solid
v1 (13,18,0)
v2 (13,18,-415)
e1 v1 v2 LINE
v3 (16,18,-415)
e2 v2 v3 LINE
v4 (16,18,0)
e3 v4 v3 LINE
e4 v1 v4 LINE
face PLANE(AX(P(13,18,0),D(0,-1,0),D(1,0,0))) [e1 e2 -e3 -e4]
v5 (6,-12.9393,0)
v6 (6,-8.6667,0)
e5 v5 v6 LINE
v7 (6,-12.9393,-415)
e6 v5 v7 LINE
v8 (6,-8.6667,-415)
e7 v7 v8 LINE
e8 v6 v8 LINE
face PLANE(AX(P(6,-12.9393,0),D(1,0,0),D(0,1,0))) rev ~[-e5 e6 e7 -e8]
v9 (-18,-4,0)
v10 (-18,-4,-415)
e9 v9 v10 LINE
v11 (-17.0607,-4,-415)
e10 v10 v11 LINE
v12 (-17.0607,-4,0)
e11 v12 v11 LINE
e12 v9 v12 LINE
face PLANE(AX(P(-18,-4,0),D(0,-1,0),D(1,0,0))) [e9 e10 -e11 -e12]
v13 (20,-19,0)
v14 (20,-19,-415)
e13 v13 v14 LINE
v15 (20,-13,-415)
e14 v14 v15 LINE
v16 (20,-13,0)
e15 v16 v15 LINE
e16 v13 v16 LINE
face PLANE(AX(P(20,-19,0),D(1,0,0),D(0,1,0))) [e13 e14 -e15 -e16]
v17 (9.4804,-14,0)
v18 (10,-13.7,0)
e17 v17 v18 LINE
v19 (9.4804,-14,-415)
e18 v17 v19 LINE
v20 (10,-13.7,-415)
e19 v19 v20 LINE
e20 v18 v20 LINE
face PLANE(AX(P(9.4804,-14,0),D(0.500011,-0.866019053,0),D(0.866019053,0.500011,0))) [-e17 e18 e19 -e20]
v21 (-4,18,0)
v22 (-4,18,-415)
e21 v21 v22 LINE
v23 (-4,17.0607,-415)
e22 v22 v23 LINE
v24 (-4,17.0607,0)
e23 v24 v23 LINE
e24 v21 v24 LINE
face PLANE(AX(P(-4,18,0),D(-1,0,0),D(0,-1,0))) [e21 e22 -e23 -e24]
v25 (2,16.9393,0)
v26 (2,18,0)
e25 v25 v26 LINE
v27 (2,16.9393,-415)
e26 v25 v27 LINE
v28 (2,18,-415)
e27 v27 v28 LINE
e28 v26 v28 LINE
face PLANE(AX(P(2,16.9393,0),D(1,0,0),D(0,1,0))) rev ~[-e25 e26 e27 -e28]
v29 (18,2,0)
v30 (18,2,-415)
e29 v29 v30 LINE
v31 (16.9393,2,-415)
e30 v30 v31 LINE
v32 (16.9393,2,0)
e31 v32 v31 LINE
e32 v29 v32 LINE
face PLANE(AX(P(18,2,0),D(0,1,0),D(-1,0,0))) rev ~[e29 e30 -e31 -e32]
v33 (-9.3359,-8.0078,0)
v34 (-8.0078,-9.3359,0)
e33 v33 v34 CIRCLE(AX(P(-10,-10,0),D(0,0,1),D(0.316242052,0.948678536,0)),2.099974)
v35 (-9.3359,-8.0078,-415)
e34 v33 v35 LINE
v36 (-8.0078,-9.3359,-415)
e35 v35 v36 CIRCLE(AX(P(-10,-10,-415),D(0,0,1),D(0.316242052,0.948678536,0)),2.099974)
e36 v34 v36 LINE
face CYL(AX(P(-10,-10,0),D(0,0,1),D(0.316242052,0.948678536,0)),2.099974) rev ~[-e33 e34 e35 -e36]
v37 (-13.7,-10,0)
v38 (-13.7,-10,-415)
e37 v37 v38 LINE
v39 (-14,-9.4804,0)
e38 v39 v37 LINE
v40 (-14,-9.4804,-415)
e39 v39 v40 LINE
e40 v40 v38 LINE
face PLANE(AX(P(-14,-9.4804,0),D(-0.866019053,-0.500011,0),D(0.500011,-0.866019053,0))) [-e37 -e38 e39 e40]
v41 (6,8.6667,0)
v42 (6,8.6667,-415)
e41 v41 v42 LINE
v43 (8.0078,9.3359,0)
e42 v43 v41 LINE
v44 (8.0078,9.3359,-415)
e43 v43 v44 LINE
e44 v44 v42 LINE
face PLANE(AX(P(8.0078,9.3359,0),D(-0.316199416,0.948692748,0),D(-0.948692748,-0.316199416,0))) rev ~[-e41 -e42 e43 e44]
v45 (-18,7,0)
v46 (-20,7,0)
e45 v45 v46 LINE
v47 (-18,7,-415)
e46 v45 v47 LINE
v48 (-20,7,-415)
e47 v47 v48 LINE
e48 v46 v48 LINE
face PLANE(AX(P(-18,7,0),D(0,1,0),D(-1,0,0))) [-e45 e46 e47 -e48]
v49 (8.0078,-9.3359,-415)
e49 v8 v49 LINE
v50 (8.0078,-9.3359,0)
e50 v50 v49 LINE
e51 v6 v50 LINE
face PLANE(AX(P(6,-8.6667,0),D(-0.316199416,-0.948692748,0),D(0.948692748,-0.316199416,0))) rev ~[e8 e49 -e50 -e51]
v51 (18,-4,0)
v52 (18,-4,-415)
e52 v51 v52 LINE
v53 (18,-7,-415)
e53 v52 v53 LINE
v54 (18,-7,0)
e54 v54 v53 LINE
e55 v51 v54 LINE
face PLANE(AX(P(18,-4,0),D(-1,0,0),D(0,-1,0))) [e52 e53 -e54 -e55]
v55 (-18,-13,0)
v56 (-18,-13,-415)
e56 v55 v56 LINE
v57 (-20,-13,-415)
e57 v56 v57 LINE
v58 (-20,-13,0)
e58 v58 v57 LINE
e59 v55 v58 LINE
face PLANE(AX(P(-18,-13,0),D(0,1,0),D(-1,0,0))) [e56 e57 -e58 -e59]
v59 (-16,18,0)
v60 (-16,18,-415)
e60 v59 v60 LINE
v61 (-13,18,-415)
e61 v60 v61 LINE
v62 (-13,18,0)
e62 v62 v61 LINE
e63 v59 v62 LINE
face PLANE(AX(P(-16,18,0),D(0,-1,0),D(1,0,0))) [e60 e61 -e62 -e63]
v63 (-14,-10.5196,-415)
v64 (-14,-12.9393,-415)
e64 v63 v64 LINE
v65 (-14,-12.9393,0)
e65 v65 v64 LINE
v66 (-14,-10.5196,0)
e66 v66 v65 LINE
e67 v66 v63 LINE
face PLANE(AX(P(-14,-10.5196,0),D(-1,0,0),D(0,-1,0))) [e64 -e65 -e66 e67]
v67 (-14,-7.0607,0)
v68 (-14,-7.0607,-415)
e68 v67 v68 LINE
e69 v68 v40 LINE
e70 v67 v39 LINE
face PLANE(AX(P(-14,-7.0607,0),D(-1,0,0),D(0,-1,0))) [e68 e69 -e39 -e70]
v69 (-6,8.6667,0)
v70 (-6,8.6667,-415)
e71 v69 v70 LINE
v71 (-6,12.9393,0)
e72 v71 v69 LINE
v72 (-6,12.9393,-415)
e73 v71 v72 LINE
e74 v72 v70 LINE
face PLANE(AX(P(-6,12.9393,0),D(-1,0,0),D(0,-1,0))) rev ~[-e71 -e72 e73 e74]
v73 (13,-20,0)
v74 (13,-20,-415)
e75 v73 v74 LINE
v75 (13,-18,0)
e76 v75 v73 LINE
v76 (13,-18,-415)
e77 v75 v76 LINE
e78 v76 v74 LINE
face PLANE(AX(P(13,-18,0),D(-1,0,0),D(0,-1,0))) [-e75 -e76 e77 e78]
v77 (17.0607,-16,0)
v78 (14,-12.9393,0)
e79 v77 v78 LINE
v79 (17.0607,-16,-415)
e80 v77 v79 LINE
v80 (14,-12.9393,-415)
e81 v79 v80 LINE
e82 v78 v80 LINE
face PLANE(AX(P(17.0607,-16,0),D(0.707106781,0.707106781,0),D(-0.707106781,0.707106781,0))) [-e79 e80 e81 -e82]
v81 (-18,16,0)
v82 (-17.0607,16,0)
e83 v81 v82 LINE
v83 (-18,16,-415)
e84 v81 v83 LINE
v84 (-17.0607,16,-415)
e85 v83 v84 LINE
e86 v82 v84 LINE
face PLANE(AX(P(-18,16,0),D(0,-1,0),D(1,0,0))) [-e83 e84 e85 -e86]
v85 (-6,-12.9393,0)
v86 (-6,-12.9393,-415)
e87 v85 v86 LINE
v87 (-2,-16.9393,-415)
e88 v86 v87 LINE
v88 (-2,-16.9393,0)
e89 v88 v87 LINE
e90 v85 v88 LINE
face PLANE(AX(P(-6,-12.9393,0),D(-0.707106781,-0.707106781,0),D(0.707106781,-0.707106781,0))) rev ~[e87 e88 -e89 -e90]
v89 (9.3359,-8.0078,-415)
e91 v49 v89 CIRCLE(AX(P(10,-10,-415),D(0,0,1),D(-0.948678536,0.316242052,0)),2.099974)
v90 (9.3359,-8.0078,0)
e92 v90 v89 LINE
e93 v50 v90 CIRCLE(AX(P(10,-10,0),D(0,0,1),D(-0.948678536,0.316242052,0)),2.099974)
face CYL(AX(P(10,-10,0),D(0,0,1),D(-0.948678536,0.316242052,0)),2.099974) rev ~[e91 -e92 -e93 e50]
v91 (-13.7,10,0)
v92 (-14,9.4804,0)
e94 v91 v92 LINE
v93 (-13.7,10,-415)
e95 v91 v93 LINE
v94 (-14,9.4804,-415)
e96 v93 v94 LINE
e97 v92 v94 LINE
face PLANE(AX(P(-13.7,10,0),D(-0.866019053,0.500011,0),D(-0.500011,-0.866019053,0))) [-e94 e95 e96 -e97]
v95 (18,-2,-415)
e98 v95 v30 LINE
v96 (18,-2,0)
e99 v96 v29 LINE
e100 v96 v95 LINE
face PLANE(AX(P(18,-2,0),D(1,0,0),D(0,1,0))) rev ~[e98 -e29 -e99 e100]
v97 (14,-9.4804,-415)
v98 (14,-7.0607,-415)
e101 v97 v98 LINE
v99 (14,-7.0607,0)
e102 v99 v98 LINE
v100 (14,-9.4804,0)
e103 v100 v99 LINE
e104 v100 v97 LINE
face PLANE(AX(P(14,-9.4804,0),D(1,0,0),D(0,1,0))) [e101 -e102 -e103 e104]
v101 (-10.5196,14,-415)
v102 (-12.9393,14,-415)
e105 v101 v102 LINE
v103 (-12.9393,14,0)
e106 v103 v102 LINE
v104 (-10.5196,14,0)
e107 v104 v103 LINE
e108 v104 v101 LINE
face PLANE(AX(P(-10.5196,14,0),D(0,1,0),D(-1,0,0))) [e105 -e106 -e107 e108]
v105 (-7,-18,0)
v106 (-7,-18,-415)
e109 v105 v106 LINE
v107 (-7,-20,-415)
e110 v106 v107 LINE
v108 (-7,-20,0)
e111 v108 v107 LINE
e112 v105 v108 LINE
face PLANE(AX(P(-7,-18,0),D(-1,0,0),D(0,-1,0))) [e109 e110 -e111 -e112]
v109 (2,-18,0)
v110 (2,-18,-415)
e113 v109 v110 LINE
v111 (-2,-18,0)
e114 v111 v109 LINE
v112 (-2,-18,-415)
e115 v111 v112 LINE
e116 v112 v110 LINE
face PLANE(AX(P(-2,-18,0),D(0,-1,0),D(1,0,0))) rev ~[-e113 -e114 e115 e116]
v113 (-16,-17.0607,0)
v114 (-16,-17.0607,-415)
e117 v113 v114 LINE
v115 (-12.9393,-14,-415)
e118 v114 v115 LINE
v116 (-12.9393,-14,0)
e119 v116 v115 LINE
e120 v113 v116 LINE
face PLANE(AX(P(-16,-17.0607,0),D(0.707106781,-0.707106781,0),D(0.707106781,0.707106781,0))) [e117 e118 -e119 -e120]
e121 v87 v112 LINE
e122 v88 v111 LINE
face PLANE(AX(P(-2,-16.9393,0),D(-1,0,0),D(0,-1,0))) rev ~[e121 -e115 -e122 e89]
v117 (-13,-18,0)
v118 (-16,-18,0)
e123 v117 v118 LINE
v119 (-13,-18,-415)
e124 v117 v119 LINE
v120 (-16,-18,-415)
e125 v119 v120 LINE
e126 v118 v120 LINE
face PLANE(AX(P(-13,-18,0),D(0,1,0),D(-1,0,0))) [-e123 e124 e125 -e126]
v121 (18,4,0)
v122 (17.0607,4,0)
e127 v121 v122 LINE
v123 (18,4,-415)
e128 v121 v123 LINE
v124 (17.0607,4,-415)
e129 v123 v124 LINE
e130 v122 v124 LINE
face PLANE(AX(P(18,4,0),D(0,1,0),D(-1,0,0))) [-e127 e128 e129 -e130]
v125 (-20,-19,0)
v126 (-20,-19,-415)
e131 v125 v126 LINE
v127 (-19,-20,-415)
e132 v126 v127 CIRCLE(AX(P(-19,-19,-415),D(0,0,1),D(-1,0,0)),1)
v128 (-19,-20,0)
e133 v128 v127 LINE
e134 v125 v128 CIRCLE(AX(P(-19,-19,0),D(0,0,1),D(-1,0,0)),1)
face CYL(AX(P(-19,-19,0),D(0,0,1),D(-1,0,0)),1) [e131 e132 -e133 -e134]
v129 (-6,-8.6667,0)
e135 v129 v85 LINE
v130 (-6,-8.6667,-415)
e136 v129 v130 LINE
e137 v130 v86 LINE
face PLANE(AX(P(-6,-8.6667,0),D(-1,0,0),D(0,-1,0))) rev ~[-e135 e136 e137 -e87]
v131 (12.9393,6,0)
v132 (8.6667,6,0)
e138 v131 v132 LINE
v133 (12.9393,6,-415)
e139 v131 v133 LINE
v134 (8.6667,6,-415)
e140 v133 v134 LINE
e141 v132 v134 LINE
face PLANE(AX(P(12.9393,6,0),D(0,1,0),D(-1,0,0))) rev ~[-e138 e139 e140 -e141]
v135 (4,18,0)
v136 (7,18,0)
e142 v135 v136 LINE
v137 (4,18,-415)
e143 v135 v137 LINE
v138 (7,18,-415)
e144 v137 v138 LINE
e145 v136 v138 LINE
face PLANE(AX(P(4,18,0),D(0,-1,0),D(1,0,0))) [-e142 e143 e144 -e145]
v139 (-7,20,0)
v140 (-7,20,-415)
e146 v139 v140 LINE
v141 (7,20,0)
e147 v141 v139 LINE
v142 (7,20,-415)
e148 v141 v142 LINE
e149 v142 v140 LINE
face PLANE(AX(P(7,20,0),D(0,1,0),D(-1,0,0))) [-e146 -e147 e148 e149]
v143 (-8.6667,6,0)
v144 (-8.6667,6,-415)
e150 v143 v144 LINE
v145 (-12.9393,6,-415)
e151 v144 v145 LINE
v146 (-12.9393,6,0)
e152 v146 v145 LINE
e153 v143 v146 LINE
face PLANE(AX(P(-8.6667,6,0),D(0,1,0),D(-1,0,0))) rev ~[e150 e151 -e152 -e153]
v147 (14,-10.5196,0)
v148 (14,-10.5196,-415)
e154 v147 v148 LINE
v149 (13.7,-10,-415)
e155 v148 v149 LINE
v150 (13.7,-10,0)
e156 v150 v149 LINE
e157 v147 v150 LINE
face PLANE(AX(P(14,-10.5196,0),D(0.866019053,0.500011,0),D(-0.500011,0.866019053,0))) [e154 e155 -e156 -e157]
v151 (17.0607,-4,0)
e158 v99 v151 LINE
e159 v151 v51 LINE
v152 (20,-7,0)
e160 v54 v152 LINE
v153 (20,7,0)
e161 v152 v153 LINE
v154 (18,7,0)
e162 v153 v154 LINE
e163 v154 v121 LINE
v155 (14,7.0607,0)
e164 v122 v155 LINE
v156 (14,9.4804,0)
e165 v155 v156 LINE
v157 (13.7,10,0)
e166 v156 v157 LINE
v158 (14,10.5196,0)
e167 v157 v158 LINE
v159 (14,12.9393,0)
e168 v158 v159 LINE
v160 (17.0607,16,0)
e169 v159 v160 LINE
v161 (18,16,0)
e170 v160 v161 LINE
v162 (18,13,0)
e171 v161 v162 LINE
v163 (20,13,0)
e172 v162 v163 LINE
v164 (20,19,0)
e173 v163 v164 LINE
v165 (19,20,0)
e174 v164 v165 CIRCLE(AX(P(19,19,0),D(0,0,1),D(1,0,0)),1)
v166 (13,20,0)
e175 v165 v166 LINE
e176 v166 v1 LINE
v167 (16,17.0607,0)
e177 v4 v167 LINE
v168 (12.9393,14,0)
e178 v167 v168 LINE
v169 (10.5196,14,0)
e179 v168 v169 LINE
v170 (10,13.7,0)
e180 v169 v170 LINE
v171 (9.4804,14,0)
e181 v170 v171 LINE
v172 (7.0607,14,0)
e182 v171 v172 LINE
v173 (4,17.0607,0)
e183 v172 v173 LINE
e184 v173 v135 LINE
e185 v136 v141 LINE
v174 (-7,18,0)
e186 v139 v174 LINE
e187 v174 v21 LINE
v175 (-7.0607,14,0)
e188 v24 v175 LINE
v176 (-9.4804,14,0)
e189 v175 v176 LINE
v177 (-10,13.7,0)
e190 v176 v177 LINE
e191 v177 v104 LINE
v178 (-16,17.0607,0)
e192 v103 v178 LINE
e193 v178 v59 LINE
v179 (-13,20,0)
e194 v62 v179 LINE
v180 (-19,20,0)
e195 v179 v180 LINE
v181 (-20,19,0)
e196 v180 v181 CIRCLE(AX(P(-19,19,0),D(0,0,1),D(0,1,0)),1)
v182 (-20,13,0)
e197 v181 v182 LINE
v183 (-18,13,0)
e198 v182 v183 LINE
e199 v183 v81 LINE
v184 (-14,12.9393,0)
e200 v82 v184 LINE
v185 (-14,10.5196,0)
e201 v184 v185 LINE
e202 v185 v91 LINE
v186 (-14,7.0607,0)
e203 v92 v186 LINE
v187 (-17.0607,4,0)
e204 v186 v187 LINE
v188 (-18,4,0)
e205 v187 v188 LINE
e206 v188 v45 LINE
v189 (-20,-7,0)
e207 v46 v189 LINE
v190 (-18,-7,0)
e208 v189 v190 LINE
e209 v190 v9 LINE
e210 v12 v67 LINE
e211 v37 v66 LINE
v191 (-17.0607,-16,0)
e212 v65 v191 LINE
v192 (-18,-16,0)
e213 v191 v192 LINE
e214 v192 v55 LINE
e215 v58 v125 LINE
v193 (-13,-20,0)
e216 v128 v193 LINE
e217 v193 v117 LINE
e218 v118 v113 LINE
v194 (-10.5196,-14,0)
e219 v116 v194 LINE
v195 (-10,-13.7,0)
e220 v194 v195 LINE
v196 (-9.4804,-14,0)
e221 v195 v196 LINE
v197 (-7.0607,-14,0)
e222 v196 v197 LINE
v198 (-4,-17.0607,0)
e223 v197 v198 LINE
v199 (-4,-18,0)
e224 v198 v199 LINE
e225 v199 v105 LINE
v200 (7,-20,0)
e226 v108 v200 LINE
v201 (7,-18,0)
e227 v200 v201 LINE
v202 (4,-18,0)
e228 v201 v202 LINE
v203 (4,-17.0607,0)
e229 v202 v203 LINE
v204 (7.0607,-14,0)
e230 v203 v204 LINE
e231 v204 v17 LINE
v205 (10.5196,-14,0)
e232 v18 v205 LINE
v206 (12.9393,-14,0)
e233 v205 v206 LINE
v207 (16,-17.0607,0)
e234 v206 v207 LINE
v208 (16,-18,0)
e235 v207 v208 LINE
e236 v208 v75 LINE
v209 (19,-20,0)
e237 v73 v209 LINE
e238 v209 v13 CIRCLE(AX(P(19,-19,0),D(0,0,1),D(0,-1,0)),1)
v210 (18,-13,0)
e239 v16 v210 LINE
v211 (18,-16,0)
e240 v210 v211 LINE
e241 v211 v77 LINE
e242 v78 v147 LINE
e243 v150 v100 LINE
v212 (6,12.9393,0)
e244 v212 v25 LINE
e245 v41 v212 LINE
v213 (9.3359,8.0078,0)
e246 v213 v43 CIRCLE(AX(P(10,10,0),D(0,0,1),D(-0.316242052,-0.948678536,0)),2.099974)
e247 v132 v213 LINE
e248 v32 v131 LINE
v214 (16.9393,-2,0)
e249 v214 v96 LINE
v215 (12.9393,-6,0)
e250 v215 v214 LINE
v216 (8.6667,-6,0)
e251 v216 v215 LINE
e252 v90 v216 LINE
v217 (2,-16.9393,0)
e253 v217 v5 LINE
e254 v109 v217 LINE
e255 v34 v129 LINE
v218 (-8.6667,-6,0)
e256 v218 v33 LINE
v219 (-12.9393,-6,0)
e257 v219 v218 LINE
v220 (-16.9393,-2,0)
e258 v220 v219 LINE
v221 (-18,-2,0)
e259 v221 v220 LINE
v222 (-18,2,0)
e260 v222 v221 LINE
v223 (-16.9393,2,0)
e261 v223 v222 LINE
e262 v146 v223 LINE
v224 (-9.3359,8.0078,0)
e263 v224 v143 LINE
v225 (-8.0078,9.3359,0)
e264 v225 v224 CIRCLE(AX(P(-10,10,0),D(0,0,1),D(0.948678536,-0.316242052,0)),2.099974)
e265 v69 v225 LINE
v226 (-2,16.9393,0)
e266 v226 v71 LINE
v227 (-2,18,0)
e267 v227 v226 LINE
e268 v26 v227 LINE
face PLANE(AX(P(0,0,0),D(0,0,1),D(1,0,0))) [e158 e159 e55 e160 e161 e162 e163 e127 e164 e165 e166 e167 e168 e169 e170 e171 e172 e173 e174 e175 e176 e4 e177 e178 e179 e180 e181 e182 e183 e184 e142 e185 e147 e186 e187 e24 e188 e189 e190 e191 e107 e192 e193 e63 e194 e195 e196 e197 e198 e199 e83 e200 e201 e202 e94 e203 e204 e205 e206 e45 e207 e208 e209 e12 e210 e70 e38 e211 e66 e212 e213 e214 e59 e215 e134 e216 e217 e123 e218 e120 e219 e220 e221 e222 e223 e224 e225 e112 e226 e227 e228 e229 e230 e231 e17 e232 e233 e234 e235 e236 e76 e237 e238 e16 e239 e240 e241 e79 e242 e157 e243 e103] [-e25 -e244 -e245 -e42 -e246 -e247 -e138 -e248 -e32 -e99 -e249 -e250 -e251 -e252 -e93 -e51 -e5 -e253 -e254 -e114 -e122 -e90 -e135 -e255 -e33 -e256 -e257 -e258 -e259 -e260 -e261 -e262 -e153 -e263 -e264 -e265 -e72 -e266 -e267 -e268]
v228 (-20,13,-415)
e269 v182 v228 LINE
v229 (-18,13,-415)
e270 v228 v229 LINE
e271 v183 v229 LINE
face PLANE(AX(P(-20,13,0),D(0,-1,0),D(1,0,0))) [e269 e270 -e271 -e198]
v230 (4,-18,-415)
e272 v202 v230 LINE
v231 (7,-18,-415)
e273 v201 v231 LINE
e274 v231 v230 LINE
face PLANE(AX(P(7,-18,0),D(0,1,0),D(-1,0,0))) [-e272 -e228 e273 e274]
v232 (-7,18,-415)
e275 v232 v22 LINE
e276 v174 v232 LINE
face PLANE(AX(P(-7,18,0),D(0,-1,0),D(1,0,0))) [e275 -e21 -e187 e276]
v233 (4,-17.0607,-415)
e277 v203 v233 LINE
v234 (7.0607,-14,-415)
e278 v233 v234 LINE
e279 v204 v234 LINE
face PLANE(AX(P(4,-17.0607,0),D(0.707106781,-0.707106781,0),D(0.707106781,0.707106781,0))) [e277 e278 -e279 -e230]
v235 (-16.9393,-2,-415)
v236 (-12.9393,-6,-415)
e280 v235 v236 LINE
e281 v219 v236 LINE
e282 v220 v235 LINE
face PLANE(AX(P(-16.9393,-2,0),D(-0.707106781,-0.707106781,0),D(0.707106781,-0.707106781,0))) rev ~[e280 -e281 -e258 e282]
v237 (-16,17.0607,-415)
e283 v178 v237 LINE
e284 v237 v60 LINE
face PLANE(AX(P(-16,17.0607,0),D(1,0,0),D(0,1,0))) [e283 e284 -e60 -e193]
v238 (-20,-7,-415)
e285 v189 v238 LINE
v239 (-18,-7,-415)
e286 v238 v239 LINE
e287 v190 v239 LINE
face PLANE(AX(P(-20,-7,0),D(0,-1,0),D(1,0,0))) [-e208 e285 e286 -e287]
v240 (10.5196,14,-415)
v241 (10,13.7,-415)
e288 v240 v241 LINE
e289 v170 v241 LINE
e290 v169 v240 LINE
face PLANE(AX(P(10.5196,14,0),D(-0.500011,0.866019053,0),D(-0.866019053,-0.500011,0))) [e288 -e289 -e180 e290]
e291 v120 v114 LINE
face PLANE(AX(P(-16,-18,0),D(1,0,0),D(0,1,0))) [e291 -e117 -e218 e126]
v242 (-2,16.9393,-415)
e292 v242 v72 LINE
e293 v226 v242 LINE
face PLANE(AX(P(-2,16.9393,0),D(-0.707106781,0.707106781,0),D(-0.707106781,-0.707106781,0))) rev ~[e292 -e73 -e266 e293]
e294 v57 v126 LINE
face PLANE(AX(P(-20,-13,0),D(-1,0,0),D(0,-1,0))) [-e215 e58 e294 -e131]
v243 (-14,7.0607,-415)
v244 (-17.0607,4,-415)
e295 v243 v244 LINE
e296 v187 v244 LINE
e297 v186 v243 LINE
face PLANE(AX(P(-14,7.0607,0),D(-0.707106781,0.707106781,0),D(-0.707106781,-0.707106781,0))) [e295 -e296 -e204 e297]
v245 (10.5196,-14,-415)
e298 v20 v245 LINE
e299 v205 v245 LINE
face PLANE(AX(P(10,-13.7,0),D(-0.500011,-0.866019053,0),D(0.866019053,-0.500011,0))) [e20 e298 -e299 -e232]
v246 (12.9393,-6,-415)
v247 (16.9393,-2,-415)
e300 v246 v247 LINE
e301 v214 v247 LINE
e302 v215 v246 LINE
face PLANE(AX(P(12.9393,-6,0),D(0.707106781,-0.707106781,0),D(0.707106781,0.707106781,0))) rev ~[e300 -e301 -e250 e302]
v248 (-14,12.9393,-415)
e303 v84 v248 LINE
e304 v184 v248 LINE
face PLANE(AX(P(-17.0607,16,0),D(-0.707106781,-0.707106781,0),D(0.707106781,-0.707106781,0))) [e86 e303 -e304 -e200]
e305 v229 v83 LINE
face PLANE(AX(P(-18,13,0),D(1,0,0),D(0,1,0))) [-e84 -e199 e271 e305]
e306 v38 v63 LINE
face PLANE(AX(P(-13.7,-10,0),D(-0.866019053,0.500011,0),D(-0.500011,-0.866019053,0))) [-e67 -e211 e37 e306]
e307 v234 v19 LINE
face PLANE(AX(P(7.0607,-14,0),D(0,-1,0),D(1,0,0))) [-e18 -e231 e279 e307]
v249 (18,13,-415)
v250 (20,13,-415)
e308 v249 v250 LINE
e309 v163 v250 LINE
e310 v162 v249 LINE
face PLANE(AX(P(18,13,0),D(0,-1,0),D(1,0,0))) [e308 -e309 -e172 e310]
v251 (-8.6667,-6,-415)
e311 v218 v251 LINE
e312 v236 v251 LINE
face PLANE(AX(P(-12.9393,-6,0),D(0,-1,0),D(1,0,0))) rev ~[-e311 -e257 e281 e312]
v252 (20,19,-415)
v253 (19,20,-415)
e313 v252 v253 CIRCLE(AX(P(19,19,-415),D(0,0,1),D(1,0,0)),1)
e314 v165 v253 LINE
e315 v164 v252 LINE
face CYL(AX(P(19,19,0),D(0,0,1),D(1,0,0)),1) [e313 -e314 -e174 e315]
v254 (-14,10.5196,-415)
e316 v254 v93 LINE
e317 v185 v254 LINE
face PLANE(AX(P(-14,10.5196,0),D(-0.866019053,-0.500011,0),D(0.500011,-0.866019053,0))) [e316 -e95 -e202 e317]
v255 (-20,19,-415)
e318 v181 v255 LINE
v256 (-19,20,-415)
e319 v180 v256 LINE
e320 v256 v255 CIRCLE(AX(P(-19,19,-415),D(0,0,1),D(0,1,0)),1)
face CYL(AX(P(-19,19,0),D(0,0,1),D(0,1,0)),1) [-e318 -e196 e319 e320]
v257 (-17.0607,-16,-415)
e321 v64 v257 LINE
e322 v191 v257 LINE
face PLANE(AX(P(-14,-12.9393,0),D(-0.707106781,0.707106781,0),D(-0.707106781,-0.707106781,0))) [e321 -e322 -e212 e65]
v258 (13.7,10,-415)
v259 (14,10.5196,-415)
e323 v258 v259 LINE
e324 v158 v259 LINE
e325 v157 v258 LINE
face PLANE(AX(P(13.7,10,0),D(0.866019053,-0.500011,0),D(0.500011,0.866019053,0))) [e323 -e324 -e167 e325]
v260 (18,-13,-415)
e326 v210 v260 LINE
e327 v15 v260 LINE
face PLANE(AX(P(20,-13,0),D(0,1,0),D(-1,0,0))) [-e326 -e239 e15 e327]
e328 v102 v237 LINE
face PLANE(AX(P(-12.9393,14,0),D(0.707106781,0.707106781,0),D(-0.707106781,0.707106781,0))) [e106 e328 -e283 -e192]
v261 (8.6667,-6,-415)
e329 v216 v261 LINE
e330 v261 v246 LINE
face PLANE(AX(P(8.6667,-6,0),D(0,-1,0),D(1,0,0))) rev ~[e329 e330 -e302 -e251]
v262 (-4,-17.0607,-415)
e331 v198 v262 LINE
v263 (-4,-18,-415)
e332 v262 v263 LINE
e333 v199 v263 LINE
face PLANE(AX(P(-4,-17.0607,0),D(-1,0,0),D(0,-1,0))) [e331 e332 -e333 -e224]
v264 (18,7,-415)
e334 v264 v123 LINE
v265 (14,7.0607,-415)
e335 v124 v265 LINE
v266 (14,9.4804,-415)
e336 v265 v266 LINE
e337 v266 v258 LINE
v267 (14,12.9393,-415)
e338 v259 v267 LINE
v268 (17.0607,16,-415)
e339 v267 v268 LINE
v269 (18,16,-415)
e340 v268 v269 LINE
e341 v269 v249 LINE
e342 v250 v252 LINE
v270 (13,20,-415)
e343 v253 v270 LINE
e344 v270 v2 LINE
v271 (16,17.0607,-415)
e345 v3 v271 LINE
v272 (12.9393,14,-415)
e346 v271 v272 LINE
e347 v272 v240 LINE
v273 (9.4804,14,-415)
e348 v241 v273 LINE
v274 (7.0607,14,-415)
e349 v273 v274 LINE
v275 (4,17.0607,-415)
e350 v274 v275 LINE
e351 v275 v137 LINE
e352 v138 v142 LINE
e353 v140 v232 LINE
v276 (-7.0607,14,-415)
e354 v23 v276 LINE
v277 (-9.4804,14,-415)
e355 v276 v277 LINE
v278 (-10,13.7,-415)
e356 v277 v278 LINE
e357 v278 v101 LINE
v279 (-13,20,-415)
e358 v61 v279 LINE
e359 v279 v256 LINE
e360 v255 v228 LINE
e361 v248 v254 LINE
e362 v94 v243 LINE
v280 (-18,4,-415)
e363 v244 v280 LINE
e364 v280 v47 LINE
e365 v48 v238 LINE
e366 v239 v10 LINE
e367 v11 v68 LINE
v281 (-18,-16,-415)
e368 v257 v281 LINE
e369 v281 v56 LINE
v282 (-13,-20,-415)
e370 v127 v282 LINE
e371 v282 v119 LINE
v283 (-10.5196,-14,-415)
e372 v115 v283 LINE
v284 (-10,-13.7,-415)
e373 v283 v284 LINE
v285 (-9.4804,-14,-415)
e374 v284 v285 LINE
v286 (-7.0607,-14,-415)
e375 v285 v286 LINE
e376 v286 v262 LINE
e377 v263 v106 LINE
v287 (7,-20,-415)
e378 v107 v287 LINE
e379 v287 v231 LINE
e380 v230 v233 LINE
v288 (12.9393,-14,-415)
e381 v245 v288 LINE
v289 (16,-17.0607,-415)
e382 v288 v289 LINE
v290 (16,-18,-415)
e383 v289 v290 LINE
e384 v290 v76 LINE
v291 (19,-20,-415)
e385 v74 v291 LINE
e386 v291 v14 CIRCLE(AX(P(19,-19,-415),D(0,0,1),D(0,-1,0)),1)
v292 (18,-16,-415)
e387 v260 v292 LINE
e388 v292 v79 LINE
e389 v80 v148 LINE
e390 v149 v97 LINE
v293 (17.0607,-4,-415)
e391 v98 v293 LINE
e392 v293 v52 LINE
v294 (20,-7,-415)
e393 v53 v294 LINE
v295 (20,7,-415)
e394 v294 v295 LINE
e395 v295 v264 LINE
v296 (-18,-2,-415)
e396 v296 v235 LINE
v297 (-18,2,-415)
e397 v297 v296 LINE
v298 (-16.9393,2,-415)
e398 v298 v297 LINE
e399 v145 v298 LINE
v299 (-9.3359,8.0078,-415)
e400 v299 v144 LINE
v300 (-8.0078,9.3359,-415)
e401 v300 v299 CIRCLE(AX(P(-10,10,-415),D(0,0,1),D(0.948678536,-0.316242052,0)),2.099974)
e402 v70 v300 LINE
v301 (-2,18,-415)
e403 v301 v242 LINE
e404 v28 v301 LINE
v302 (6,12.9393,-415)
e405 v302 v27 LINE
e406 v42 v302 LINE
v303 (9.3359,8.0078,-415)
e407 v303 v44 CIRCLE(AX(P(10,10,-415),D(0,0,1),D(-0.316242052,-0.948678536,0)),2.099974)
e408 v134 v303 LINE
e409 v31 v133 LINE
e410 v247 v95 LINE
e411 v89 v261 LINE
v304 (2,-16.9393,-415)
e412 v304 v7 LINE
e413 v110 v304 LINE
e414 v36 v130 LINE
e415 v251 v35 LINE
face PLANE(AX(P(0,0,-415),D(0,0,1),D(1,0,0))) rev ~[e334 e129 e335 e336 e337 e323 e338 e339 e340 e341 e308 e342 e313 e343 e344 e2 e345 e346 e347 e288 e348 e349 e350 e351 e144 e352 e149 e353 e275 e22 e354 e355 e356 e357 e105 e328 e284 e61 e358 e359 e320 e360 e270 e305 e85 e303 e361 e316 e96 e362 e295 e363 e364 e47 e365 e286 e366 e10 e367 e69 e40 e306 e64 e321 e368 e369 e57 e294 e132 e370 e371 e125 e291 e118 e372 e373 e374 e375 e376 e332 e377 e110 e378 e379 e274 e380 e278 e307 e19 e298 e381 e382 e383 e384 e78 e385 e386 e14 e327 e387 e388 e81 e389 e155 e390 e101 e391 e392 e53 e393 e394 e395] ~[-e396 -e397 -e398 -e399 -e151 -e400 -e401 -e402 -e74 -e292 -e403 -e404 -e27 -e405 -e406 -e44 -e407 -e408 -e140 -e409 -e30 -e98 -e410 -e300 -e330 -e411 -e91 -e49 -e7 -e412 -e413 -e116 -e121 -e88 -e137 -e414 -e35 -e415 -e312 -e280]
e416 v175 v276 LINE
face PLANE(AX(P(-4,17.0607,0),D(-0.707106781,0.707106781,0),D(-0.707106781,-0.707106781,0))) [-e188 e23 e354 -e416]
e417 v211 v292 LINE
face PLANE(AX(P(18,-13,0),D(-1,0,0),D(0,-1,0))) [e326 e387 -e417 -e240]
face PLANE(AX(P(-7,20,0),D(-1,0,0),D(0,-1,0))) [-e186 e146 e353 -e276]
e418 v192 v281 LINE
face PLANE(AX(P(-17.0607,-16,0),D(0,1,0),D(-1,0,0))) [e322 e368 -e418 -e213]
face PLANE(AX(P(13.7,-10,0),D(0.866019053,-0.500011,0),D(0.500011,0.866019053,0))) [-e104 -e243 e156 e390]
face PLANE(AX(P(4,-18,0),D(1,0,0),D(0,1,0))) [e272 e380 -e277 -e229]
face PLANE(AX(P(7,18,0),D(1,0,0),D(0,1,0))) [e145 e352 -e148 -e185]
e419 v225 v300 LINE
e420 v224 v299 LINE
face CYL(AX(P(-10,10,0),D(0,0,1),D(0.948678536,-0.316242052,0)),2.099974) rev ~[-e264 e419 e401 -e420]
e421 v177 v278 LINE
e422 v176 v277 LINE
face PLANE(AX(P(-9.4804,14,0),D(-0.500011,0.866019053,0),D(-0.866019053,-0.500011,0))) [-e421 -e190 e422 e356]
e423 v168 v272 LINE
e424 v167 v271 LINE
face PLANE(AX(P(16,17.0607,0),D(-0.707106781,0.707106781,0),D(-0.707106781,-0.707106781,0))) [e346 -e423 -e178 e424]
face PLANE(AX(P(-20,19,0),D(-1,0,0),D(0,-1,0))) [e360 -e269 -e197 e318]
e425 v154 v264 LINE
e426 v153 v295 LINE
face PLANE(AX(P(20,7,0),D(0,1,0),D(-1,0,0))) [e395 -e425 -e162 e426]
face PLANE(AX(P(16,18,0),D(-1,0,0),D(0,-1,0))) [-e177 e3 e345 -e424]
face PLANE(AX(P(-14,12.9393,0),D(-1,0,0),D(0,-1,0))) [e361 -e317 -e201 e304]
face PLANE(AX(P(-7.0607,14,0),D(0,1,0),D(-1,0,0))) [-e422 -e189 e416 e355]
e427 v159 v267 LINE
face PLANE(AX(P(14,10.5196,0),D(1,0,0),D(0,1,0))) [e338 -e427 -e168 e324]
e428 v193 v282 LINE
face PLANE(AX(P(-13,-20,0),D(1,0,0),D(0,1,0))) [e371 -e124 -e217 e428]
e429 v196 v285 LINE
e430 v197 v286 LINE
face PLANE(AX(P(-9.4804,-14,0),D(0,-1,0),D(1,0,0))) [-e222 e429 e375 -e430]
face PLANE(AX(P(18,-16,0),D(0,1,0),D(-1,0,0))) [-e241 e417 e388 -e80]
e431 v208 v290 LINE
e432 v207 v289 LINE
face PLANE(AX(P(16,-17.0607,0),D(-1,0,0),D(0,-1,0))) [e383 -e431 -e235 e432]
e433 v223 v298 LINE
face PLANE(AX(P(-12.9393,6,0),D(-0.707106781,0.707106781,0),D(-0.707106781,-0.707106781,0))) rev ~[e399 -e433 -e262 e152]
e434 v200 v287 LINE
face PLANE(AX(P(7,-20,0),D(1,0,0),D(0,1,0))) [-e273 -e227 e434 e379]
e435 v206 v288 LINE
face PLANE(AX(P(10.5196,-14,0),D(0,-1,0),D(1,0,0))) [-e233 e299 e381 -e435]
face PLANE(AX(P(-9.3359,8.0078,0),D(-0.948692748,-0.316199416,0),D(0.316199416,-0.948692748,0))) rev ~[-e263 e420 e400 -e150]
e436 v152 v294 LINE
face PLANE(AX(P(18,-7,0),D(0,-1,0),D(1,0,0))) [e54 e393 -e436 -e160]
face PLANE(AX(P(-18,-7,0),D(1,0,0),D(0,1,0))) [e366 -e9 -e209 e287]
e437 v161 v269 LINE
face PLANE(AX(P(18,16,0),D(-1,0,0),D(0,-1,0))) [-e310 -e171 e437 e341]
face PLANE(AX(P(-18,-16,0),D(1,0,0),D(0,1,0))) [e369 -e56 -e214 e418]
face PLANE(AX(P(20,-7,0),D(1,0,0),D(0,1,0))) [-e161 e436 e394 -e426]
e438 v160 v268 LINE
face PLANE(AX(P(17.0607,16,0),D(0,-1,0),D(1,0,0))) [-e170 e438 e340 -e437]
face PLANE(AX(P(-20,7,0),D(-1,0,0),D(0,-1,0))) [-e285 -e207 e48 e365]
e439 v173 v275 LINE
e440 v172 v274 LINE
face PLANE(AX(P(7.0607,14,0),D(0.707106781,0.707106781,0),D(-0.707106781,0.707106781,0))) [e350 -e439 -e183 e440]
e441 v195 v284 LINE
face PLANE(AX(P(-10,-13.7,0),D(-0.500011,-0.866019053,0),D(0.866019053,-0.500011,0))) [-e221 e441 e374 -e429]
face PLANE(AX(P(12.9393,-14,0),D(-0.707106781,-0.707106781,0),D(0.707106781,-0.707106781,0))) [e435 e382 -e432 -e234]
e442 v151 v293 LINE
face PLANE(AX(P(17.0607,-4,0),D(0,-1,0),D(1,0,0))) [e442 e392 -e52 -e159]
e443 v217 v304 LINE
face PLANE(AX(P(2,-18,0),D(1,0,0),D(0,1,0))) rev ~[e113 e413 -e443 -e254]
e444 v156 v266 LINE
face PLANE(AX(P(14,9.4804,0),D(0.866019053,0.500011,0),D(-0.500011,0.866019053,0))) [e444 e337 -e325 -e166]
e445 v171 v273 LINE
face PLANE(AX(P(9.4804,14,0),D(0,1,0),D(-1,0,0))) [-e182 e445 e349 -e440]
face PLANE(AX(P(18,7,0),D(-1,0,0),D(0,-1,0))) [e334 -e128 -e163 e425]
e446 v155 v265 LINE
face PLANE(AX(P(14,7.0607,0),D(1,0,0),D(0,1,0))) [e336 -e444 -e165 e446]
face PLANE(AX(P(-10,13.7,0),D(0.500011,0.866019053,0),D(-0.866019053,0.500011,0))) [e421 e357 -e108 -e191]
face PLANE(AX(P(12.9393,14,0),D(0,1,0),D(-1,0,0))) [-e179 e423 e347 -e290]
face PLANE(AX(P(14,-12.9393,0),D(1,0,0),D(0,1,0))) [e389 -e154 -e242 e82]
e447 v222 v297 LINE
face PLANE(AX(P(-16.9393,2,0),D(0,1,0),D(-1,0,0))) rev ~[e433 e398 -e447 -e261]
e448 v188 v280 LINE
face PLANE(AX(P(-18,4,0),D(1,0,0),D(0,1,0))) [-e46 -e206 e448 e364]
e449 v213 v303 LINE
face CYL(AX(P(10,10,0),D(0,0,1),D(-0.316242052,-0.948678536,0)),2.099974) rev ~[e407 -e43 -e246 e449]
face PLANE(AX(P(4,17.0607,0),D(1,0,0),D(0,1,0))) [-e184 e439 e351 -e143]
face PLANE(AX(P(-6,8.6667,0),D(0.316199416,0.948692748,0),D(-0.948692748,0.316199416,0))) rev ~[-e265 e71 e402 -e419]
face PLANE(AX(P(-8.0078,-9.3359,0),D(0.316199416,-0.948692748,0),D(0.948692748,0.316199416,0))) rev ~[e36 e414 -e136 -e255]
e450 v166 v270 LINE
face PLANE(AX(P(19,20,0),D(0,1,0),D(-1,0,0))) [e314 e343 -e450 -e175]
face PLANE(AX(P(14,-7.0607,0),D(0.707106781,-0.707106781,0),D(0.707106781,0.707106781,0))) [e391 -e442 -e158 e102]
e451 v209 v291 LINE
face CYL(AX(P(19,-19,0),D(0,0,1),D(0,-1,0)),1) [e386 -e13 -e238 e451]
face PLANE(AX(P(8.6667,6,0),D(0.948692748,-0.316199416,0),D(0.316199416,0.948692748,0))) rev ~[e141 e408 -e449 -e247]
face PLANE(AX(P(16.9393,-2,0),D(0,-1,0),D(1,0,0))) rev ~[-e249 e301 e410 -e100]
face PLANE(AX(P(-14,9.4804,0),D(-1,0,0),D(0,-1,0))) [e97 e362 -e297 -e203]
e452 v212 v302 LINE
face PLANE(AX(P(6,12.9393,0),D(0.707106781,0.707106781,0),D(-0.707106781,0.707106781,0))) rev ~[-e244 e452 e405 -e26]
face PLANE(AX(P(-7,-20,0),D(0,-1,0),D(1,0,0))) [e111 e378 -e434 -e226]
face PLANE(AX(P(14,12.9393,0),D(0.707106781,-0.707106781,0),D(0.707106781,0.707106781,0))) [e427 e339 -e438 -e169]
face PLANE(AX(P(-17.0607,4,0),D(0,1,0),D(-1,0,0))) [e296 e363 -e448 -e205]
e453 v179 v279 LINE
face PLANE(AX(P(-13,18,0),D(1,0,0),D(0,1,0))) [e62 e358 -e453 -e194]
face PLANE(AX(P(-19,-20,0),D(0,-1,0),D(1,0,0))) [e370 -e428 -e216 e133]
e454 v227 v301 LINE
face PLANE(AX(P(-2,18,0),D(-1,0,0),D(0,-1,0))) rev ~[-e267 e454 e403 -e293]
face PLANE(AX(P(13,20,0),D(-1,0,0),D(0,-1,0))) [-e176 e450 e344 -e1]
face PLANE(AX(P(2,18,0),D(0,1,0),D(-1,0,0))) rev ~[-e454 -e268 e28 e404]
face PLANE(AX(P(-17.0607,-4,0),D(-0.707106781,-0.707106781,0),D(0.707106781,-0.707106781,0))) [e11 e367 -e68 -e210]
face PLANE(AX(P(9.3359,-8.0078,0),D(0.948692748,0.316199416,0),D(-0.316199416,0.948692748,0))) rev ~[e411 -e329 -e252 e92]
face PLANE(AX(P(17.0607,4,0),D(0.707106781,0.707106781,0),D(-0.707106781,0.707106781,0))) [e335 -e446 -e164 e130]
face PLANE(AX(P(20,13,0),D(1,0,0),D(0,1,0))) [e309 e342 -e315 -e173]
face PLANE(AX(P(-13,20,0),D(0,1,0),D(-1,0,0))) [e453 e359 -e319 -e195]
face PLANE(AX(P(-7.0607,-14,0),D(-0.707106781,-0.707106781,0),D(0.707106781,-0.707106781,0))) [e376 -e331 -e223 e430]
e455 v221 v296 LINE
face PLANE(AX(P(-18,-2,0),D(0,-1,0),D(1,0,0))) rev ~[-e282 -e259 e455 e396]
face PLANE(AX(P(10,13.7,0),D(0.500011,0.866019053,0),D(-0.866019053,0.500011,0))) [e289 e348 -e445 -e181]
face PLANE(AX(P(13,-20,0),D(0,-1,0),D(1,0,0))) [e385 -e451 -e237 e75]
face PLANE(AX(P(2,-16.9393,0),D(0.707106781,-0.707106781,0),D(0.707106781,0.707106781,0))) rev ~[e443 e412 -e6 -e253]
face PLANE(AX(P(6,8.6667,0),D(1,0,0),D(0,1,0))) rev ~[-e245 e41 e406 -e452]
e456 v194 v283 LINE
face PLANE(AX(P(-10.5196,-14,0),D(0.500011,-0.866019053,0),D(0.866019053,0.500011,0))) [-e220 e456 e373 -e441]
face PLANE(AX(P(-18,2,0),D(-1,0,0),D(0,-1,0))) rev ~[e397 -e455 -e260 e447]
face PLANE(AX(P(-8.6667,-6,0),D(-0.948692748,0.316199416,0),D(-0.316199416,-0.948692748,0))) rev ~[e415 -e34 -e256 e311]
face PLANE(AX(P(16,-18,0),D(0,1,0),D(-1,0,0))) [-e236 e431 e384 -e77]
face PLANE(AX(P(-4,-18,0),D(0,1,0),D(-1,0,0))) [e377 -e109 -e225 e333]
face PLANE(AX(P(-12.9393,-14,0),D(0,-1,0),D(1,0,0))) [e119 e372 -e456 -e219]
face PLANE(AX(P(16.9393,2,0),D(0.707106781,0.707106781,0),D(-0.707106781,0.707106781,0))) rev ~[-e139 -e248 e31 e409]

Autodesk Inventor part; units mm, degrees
sketch "Sketch_1" plane through (0, 0, 0) normal (0, 0, 1) x (1, 0, 0)
  line L0 (-20, -7) -> (-18, -7)
  line L1 (-18, -7) -> (-18, -4)
  line L2 (-18, -4) -> (-17.0607, -4)
  line L3 (-17.0607, -4) -> (-14, -7.0607)
  line L4 (-14, -7.0607) -> (-14, -9.4804)
  line L5 (-14, -9.4804) -> (-13.7, -10)
  line L6 (-13.7, -10) -> (-14, -10.5196)
  line L7 (-14, -10.5196) -> (-14, -12.9393)
  line L8 (-14, -12.9393) -> (-17.0607, -16)
  line L9 (-17.0607, -16) -> (-18, -16)
  line L10 (-18, -16) -> (-18, -13)
  line L11 (-18, -13) -> (-20, -13)
  line L12 (-20, -13) -> (-20, -19)
  arc A0 (-20, -19) -> (-19, -20) centre (-19, -19) ccw
  line L13 (-19, -20) -> (-13, -20)
  line L14 (-13, -20) -> (-13, -18)
  line L15 (-13, -18) -> (-16, -18)
  line L16 (-16, -18) -> (-16, -17.0607)
  line L17 (-16, -17.0607) -> (-12.9393, -14)
  line L18 (-12.9393, -14) -> (-10.5196, -14)
  line L19 (-10.5196, -14) -> (-10, -13.7)
  line L20 (-10, -13.7) -> (-9.4804, -14)
  line L21 (-9.4804, -14) -> (-7.0607, -14)
  line L22 (-7.0607, -14) -> (-4, -17.0607)
  line L23 (-4, -17.0607) -> (-4, -18)
  line L24 (-4, -18) -> (-7, -18)
  line L25 (-7, -18) -> (-7, -20)
  line L26 (-7, -20) -> (7, -20)
  line L27 (7, -20) -> (7, -18)
  line L28 (7, -18) -> (4, -18)
  line L29 (4, -18) -> (4, -17.0607)
  line L30 (4, -17.0607) -> (7.0607, -14)
  line L31 (7.0607, -14) -> (9.4804, -14)
  line L32 (9.4804, -14) -> (10, -13.7)
  line L33 (10, -13.7) -> (10.5196, -14)
  line L34 (10.5196, -14) -> (12.9393, -14)
  line L35 (12.9393, -14) -> (16, -17.0607)
  line L36 (16, -17.0607) -> (16, -18)
  line L37 (16, -18) -> (13, -18)
  line L38 (13, -18) -> (13, -20)
  line L39 (13, -20) -> (19, -20)
  arc A1 (19, -20) -> (20, -19) centre (19, -19) ccw
  line L40 (20, -19) -> (20, -13)
  line L41 (20, -13) -> (18, -13)
  line L42 (18, -13) -> (18, -16)
  line L43 (18, -16) -> (17.0607, -16)
  line L44 (17.0607, -16) -> (14, -12.9393)
  line L45 (14, -12.9393) -> (14, -10.5196)
  line L46 (14, -10.5196) -> (13.7, -10)
  line L47 (13.7, -10) -> (14, -9.4804)
  line L48 (14, -9.4804) -> (14, -7.0607)
  line L49 (14, -7.0607) -> (17.0607, -4)
  line L50 (17.0607, -4) -> (18, -4)
  line L51 (18, -4) -> (18, -7)
  line L52 (18, -7) -> (20, -7)
  line L53 (20, -7) -> (20, 7)
  line L54 (20, 7) -> (18, 7)
  line L55 (18, 7) -> (18, 4)
  line L56 (18, 4) -> (17.0607, 4)
  line L57 (17.0607, 4) -> (14, 7.0607)
  line L58 (14, 7.0607) -> (14, 9.4804)
  line L59 (14, 9.4804) -> (13.7, 10)
  line L60 (13.7, 10) -> (14, 10.5196)
  line L61 (14, 10.5196) -> (14, 12.9393)
  line L62 (14, 12.9393) -> (17.0607, 16)
  line L63 (17.0607, 16) -> (18, 16)
  line L64 (18, 16) -> (18, 13)
  line L65 (18, 13) -> (20, 13)
  line L66 (20, 13) -> (20, 19)
  arc A2 (20, 19) -> (19, 20) centre (19, 19) ccw
  line L67 (19, 20) -> (13, 20)
  line L68 (13, 20) -> (13, 18)
  line L69 (13, 18) -> (16, 18)
  line L70 (16, 18) -> (16, 17.0607)
  line L71 (16, 17.0607) -> (12.9393, 14)
  line L72 (12.9393, 14) -> (10.5196, 14)
  line L73 (10.5196, 14) -> (10, 13.7)
  line L74 (10, 13.7) -> (9.4804, 14)
  line L75 (9.4804, 14) -> (7.0607, 14)
  line L76 (7.0607, 14) -> (4, 17.0607)
  line L77 (4, 17.0607) -> (4, 18)
  line L78 (4, 18) -> (7, 18)
  line L79 (7, 18) -> (7, 20)
  line L80 (7, 20) -> (-7, 20)
  line L81 (-7, 20) -> (-7, 18)
  line L82 (-7, 18) -> (-4, 18)
  line L83 (-4, 18) -> (-4, 17.0607)
  line L84 (-4, 17.0607) -> (-7.0607, 14)
  line L85 (-7.0607, 14) -> (-9.4804, 14)
  line L86 (-9.4804, 14) -> (-10, 13.7)
  line L87 (-10, 13.7) -> (-10.5196, 14)
  line L88 (-10.5196, 14) -> (-12.9393, 14)
  line L89 (-12.9393, 14) -> (-16, 17.0607)
  line L90 (-16, 17.0607) -> (-16, 18)
  line L91 (-16, 18) -> (-13, 18)
  line L92 (-13, 18) -> (-13, 20)
  line L93 (-13, 20) -> (-19, 20)
  arc A3 (-19, 20) -> (-20, 19) centre (-19, 19) ccw
  line L94 (-20, 19) -> (-20, 13)
  line L95 (-20, 13) -> (-18, 13)
  line L96 (-18, 13) -> (-18, 16)
  line L97 (-18, 16) -> (-17.0607, 16)
  line L98 (-17.0607, 16) -> (-14, 12.9393)
  line L99 (-14, 12.9393) -> (-14, 10.5196)
  line L100 (-14, 10.5196) -> (-13.7, 10)
  line L101 (-13.7, 10) -> (-14, 9.4804)
  line L102 (-14, 9.4804) -> (-14, 7.0607)
  line L103 (-14, 7.0607) -> (-17.0607, 4)
  line L104 (-17.0607, 4) -> (-18, 4)
  line L105 (-18, 4) -> (-18, 7)
  line L106 (-18, 7) -> (-20, 7)
  line L107 (-20, 7) -> (-20, -7)
extrude "Extrusion1" add sketch "Sketch_1" against normal blind 415
sketch "Sketch_130" plane through (0, 0, 0) normal (0, 0, 1) x (1, 0, 0)
  line L0 (-18, 2) -> (-18, -2)
  line L1 (-18, -2) -> (-16.9393, -2)
  line L2 (-16.9393, -2) -> (-12.9393, -6)
  line L3 (-12.9393, -6) -> (-8.6667, -6)
  line L4 (-8.6667, -6) -> (-9.3359, -8.0078)
  arc A0 (-9.3359, -8.0078) -> (-8.0078, -9.3359) centre (-10, -10) ccw
  line L5 (-8.0078, -9.3359) -> (-6, -8.6667)
  line L6 (-6, -8.6667) -> (-6, -12.9393)
  line L7 (-6, -12.9393) -> (-2, -16.9393)
  line L8 (-2, -16.9393) -> (-2, -18)
  line L9 (-2, -18) -> (2, -18)
  line L10 (2, -18) -> (2, -16.9393)
  line L11 (2, -16.9393) -> (6, -12.9393)
  line L12 (6, -12.9393) -> (6, -8.6667)
  line L13 (6, -8.6667) -> (8.0078, -9.3359)
  arc A1 (8.0078, -9.3359) -> (9.3359, -8.0078) centre (10, -10) ccw
  line L14 (9.3359, -8.0078) -> (8.6667, -6)
  line L15 (8.6667, -6) -> (12.9393, -6)
  line L16 (12.9393, -6) -> (16.9393, -2)
  line L17 (16.9393, -2) -> (18, -2)
  line L18 (18, -2) -> (18, 2)
  line L19 (18, 2) -> (16.9393, 2)
  line L20 (16.9393, 2) -> (12.9393, 6)
  line L21 (12.9393, 6) -> (8.6667, 6)
  line L22 (8.6667, 6) -> (9.3359, 8.0078)
  arc A2 (9.3359, 8.0078) -> (8.0078, 9.3359) centre (10, 10) ccw
  line L23 (8.0078, 9.3359) -> (6, 8.6667)
  line L24 (6, 8.6667) -> (6, 12.9393)
  line L25 (6, 12.9393) -> (2, 16.9393)
  line L26 (2, 16.9393) -> (2, 18)
  line L27 (2, 18) -> (-2, 18)
  line L28 (-2, 18) -> (-2, 16.9393)
  line L29 (-2, 16.9393) -> (-6, 12.9393)
  line L30 (-6, 12.9393) -> (-6, 8.6667)
  line L31 (-6, 8.6667) -> (-8.0078, 9.3359)
  arc A3 (-8.0078, 9.3359) -> (-9.3359, 8.0078) centre (-10, 10) ccw
  line L32 (-9.3359, 8.0078) -> (-8.6667, 6)
  line L33 (-8.6667, 6) -> (-12.9393, 6)
  line L34 (-12.9393, 6) -> (-16.9393, 2)
  line L35 (-16.9393, 2) -> (-18, 2)
extrude "Extrusion2" cut sketch "Sketch_130" against normal blind 415
ref_plane "C1_XY" through (0, 0, 0) normal (0, 0, 1) x (1, 0, 0)
ref_plane "C1_YZ" through (0, 0, 0) normal (1, 0, 0) x (0, 1, 0)
ref_plane "C1_ZX" through (0, 0, 0) normal (0, 1, 0) x (0, 0, 1)
ref_plane "to_frame_cap1_XY" through (0, 0, 0) normal (0, 0, 1) x (1, 0, 0)
ref_plane "to_frame_cap1_YZ" through (0, 0, 0) normal (1, 0, 0) x (0, 1, 0)
ref_plane "to_frame_cap1_ZX" through (0, 0, 0) normal (0, 1, 0) x (0, 0, 1)
ref_plane "to_frame_cap2_XY" through (0, 0, -415) normal (0, 0, -1) x (1, 0, 0)
ref_plane "to_frame_cap2_YZ" through (0, 0, -415) normal (1, 0, 0) x (0, -1, 0)
ref_plane "to_frame_cap2_ZX" through (0, 0, -415) normal (0, -1, 0) x (0, 0, -1)
thread "Thread1" size "M5x0.8" class "6H" standard "ANSI Metric M Profile" length 10
thread "Thread2" size "M5x0.8" class "6H" standard "ANSI Metric M Profile" length 10
thread "Thread3" size "M5x0.8" class "6H" standard "ANSI Metric M Profile" length 10
thread "Thread4" size "M5x0.8" class "6H" standard "ANSI Metric M Profile" length 10
thread "Thread5" size "M5x0.8" class "6H" standard "ANSI Metric M Profile" length 10
thread "Thread6" size "M5x0.8" class "6H" standard "ANSI Metric M Profile" length 10
thread "Thread7" size "M5x0.8" class "6H" standard "ANSI Metric M Profile" length 10
thread "Thread8" size "M5x0.8" class "6H" standard "ANSI Metric M Profile" length 10
properties part number "Rear Base Beam" material "Aluminum 6061"
